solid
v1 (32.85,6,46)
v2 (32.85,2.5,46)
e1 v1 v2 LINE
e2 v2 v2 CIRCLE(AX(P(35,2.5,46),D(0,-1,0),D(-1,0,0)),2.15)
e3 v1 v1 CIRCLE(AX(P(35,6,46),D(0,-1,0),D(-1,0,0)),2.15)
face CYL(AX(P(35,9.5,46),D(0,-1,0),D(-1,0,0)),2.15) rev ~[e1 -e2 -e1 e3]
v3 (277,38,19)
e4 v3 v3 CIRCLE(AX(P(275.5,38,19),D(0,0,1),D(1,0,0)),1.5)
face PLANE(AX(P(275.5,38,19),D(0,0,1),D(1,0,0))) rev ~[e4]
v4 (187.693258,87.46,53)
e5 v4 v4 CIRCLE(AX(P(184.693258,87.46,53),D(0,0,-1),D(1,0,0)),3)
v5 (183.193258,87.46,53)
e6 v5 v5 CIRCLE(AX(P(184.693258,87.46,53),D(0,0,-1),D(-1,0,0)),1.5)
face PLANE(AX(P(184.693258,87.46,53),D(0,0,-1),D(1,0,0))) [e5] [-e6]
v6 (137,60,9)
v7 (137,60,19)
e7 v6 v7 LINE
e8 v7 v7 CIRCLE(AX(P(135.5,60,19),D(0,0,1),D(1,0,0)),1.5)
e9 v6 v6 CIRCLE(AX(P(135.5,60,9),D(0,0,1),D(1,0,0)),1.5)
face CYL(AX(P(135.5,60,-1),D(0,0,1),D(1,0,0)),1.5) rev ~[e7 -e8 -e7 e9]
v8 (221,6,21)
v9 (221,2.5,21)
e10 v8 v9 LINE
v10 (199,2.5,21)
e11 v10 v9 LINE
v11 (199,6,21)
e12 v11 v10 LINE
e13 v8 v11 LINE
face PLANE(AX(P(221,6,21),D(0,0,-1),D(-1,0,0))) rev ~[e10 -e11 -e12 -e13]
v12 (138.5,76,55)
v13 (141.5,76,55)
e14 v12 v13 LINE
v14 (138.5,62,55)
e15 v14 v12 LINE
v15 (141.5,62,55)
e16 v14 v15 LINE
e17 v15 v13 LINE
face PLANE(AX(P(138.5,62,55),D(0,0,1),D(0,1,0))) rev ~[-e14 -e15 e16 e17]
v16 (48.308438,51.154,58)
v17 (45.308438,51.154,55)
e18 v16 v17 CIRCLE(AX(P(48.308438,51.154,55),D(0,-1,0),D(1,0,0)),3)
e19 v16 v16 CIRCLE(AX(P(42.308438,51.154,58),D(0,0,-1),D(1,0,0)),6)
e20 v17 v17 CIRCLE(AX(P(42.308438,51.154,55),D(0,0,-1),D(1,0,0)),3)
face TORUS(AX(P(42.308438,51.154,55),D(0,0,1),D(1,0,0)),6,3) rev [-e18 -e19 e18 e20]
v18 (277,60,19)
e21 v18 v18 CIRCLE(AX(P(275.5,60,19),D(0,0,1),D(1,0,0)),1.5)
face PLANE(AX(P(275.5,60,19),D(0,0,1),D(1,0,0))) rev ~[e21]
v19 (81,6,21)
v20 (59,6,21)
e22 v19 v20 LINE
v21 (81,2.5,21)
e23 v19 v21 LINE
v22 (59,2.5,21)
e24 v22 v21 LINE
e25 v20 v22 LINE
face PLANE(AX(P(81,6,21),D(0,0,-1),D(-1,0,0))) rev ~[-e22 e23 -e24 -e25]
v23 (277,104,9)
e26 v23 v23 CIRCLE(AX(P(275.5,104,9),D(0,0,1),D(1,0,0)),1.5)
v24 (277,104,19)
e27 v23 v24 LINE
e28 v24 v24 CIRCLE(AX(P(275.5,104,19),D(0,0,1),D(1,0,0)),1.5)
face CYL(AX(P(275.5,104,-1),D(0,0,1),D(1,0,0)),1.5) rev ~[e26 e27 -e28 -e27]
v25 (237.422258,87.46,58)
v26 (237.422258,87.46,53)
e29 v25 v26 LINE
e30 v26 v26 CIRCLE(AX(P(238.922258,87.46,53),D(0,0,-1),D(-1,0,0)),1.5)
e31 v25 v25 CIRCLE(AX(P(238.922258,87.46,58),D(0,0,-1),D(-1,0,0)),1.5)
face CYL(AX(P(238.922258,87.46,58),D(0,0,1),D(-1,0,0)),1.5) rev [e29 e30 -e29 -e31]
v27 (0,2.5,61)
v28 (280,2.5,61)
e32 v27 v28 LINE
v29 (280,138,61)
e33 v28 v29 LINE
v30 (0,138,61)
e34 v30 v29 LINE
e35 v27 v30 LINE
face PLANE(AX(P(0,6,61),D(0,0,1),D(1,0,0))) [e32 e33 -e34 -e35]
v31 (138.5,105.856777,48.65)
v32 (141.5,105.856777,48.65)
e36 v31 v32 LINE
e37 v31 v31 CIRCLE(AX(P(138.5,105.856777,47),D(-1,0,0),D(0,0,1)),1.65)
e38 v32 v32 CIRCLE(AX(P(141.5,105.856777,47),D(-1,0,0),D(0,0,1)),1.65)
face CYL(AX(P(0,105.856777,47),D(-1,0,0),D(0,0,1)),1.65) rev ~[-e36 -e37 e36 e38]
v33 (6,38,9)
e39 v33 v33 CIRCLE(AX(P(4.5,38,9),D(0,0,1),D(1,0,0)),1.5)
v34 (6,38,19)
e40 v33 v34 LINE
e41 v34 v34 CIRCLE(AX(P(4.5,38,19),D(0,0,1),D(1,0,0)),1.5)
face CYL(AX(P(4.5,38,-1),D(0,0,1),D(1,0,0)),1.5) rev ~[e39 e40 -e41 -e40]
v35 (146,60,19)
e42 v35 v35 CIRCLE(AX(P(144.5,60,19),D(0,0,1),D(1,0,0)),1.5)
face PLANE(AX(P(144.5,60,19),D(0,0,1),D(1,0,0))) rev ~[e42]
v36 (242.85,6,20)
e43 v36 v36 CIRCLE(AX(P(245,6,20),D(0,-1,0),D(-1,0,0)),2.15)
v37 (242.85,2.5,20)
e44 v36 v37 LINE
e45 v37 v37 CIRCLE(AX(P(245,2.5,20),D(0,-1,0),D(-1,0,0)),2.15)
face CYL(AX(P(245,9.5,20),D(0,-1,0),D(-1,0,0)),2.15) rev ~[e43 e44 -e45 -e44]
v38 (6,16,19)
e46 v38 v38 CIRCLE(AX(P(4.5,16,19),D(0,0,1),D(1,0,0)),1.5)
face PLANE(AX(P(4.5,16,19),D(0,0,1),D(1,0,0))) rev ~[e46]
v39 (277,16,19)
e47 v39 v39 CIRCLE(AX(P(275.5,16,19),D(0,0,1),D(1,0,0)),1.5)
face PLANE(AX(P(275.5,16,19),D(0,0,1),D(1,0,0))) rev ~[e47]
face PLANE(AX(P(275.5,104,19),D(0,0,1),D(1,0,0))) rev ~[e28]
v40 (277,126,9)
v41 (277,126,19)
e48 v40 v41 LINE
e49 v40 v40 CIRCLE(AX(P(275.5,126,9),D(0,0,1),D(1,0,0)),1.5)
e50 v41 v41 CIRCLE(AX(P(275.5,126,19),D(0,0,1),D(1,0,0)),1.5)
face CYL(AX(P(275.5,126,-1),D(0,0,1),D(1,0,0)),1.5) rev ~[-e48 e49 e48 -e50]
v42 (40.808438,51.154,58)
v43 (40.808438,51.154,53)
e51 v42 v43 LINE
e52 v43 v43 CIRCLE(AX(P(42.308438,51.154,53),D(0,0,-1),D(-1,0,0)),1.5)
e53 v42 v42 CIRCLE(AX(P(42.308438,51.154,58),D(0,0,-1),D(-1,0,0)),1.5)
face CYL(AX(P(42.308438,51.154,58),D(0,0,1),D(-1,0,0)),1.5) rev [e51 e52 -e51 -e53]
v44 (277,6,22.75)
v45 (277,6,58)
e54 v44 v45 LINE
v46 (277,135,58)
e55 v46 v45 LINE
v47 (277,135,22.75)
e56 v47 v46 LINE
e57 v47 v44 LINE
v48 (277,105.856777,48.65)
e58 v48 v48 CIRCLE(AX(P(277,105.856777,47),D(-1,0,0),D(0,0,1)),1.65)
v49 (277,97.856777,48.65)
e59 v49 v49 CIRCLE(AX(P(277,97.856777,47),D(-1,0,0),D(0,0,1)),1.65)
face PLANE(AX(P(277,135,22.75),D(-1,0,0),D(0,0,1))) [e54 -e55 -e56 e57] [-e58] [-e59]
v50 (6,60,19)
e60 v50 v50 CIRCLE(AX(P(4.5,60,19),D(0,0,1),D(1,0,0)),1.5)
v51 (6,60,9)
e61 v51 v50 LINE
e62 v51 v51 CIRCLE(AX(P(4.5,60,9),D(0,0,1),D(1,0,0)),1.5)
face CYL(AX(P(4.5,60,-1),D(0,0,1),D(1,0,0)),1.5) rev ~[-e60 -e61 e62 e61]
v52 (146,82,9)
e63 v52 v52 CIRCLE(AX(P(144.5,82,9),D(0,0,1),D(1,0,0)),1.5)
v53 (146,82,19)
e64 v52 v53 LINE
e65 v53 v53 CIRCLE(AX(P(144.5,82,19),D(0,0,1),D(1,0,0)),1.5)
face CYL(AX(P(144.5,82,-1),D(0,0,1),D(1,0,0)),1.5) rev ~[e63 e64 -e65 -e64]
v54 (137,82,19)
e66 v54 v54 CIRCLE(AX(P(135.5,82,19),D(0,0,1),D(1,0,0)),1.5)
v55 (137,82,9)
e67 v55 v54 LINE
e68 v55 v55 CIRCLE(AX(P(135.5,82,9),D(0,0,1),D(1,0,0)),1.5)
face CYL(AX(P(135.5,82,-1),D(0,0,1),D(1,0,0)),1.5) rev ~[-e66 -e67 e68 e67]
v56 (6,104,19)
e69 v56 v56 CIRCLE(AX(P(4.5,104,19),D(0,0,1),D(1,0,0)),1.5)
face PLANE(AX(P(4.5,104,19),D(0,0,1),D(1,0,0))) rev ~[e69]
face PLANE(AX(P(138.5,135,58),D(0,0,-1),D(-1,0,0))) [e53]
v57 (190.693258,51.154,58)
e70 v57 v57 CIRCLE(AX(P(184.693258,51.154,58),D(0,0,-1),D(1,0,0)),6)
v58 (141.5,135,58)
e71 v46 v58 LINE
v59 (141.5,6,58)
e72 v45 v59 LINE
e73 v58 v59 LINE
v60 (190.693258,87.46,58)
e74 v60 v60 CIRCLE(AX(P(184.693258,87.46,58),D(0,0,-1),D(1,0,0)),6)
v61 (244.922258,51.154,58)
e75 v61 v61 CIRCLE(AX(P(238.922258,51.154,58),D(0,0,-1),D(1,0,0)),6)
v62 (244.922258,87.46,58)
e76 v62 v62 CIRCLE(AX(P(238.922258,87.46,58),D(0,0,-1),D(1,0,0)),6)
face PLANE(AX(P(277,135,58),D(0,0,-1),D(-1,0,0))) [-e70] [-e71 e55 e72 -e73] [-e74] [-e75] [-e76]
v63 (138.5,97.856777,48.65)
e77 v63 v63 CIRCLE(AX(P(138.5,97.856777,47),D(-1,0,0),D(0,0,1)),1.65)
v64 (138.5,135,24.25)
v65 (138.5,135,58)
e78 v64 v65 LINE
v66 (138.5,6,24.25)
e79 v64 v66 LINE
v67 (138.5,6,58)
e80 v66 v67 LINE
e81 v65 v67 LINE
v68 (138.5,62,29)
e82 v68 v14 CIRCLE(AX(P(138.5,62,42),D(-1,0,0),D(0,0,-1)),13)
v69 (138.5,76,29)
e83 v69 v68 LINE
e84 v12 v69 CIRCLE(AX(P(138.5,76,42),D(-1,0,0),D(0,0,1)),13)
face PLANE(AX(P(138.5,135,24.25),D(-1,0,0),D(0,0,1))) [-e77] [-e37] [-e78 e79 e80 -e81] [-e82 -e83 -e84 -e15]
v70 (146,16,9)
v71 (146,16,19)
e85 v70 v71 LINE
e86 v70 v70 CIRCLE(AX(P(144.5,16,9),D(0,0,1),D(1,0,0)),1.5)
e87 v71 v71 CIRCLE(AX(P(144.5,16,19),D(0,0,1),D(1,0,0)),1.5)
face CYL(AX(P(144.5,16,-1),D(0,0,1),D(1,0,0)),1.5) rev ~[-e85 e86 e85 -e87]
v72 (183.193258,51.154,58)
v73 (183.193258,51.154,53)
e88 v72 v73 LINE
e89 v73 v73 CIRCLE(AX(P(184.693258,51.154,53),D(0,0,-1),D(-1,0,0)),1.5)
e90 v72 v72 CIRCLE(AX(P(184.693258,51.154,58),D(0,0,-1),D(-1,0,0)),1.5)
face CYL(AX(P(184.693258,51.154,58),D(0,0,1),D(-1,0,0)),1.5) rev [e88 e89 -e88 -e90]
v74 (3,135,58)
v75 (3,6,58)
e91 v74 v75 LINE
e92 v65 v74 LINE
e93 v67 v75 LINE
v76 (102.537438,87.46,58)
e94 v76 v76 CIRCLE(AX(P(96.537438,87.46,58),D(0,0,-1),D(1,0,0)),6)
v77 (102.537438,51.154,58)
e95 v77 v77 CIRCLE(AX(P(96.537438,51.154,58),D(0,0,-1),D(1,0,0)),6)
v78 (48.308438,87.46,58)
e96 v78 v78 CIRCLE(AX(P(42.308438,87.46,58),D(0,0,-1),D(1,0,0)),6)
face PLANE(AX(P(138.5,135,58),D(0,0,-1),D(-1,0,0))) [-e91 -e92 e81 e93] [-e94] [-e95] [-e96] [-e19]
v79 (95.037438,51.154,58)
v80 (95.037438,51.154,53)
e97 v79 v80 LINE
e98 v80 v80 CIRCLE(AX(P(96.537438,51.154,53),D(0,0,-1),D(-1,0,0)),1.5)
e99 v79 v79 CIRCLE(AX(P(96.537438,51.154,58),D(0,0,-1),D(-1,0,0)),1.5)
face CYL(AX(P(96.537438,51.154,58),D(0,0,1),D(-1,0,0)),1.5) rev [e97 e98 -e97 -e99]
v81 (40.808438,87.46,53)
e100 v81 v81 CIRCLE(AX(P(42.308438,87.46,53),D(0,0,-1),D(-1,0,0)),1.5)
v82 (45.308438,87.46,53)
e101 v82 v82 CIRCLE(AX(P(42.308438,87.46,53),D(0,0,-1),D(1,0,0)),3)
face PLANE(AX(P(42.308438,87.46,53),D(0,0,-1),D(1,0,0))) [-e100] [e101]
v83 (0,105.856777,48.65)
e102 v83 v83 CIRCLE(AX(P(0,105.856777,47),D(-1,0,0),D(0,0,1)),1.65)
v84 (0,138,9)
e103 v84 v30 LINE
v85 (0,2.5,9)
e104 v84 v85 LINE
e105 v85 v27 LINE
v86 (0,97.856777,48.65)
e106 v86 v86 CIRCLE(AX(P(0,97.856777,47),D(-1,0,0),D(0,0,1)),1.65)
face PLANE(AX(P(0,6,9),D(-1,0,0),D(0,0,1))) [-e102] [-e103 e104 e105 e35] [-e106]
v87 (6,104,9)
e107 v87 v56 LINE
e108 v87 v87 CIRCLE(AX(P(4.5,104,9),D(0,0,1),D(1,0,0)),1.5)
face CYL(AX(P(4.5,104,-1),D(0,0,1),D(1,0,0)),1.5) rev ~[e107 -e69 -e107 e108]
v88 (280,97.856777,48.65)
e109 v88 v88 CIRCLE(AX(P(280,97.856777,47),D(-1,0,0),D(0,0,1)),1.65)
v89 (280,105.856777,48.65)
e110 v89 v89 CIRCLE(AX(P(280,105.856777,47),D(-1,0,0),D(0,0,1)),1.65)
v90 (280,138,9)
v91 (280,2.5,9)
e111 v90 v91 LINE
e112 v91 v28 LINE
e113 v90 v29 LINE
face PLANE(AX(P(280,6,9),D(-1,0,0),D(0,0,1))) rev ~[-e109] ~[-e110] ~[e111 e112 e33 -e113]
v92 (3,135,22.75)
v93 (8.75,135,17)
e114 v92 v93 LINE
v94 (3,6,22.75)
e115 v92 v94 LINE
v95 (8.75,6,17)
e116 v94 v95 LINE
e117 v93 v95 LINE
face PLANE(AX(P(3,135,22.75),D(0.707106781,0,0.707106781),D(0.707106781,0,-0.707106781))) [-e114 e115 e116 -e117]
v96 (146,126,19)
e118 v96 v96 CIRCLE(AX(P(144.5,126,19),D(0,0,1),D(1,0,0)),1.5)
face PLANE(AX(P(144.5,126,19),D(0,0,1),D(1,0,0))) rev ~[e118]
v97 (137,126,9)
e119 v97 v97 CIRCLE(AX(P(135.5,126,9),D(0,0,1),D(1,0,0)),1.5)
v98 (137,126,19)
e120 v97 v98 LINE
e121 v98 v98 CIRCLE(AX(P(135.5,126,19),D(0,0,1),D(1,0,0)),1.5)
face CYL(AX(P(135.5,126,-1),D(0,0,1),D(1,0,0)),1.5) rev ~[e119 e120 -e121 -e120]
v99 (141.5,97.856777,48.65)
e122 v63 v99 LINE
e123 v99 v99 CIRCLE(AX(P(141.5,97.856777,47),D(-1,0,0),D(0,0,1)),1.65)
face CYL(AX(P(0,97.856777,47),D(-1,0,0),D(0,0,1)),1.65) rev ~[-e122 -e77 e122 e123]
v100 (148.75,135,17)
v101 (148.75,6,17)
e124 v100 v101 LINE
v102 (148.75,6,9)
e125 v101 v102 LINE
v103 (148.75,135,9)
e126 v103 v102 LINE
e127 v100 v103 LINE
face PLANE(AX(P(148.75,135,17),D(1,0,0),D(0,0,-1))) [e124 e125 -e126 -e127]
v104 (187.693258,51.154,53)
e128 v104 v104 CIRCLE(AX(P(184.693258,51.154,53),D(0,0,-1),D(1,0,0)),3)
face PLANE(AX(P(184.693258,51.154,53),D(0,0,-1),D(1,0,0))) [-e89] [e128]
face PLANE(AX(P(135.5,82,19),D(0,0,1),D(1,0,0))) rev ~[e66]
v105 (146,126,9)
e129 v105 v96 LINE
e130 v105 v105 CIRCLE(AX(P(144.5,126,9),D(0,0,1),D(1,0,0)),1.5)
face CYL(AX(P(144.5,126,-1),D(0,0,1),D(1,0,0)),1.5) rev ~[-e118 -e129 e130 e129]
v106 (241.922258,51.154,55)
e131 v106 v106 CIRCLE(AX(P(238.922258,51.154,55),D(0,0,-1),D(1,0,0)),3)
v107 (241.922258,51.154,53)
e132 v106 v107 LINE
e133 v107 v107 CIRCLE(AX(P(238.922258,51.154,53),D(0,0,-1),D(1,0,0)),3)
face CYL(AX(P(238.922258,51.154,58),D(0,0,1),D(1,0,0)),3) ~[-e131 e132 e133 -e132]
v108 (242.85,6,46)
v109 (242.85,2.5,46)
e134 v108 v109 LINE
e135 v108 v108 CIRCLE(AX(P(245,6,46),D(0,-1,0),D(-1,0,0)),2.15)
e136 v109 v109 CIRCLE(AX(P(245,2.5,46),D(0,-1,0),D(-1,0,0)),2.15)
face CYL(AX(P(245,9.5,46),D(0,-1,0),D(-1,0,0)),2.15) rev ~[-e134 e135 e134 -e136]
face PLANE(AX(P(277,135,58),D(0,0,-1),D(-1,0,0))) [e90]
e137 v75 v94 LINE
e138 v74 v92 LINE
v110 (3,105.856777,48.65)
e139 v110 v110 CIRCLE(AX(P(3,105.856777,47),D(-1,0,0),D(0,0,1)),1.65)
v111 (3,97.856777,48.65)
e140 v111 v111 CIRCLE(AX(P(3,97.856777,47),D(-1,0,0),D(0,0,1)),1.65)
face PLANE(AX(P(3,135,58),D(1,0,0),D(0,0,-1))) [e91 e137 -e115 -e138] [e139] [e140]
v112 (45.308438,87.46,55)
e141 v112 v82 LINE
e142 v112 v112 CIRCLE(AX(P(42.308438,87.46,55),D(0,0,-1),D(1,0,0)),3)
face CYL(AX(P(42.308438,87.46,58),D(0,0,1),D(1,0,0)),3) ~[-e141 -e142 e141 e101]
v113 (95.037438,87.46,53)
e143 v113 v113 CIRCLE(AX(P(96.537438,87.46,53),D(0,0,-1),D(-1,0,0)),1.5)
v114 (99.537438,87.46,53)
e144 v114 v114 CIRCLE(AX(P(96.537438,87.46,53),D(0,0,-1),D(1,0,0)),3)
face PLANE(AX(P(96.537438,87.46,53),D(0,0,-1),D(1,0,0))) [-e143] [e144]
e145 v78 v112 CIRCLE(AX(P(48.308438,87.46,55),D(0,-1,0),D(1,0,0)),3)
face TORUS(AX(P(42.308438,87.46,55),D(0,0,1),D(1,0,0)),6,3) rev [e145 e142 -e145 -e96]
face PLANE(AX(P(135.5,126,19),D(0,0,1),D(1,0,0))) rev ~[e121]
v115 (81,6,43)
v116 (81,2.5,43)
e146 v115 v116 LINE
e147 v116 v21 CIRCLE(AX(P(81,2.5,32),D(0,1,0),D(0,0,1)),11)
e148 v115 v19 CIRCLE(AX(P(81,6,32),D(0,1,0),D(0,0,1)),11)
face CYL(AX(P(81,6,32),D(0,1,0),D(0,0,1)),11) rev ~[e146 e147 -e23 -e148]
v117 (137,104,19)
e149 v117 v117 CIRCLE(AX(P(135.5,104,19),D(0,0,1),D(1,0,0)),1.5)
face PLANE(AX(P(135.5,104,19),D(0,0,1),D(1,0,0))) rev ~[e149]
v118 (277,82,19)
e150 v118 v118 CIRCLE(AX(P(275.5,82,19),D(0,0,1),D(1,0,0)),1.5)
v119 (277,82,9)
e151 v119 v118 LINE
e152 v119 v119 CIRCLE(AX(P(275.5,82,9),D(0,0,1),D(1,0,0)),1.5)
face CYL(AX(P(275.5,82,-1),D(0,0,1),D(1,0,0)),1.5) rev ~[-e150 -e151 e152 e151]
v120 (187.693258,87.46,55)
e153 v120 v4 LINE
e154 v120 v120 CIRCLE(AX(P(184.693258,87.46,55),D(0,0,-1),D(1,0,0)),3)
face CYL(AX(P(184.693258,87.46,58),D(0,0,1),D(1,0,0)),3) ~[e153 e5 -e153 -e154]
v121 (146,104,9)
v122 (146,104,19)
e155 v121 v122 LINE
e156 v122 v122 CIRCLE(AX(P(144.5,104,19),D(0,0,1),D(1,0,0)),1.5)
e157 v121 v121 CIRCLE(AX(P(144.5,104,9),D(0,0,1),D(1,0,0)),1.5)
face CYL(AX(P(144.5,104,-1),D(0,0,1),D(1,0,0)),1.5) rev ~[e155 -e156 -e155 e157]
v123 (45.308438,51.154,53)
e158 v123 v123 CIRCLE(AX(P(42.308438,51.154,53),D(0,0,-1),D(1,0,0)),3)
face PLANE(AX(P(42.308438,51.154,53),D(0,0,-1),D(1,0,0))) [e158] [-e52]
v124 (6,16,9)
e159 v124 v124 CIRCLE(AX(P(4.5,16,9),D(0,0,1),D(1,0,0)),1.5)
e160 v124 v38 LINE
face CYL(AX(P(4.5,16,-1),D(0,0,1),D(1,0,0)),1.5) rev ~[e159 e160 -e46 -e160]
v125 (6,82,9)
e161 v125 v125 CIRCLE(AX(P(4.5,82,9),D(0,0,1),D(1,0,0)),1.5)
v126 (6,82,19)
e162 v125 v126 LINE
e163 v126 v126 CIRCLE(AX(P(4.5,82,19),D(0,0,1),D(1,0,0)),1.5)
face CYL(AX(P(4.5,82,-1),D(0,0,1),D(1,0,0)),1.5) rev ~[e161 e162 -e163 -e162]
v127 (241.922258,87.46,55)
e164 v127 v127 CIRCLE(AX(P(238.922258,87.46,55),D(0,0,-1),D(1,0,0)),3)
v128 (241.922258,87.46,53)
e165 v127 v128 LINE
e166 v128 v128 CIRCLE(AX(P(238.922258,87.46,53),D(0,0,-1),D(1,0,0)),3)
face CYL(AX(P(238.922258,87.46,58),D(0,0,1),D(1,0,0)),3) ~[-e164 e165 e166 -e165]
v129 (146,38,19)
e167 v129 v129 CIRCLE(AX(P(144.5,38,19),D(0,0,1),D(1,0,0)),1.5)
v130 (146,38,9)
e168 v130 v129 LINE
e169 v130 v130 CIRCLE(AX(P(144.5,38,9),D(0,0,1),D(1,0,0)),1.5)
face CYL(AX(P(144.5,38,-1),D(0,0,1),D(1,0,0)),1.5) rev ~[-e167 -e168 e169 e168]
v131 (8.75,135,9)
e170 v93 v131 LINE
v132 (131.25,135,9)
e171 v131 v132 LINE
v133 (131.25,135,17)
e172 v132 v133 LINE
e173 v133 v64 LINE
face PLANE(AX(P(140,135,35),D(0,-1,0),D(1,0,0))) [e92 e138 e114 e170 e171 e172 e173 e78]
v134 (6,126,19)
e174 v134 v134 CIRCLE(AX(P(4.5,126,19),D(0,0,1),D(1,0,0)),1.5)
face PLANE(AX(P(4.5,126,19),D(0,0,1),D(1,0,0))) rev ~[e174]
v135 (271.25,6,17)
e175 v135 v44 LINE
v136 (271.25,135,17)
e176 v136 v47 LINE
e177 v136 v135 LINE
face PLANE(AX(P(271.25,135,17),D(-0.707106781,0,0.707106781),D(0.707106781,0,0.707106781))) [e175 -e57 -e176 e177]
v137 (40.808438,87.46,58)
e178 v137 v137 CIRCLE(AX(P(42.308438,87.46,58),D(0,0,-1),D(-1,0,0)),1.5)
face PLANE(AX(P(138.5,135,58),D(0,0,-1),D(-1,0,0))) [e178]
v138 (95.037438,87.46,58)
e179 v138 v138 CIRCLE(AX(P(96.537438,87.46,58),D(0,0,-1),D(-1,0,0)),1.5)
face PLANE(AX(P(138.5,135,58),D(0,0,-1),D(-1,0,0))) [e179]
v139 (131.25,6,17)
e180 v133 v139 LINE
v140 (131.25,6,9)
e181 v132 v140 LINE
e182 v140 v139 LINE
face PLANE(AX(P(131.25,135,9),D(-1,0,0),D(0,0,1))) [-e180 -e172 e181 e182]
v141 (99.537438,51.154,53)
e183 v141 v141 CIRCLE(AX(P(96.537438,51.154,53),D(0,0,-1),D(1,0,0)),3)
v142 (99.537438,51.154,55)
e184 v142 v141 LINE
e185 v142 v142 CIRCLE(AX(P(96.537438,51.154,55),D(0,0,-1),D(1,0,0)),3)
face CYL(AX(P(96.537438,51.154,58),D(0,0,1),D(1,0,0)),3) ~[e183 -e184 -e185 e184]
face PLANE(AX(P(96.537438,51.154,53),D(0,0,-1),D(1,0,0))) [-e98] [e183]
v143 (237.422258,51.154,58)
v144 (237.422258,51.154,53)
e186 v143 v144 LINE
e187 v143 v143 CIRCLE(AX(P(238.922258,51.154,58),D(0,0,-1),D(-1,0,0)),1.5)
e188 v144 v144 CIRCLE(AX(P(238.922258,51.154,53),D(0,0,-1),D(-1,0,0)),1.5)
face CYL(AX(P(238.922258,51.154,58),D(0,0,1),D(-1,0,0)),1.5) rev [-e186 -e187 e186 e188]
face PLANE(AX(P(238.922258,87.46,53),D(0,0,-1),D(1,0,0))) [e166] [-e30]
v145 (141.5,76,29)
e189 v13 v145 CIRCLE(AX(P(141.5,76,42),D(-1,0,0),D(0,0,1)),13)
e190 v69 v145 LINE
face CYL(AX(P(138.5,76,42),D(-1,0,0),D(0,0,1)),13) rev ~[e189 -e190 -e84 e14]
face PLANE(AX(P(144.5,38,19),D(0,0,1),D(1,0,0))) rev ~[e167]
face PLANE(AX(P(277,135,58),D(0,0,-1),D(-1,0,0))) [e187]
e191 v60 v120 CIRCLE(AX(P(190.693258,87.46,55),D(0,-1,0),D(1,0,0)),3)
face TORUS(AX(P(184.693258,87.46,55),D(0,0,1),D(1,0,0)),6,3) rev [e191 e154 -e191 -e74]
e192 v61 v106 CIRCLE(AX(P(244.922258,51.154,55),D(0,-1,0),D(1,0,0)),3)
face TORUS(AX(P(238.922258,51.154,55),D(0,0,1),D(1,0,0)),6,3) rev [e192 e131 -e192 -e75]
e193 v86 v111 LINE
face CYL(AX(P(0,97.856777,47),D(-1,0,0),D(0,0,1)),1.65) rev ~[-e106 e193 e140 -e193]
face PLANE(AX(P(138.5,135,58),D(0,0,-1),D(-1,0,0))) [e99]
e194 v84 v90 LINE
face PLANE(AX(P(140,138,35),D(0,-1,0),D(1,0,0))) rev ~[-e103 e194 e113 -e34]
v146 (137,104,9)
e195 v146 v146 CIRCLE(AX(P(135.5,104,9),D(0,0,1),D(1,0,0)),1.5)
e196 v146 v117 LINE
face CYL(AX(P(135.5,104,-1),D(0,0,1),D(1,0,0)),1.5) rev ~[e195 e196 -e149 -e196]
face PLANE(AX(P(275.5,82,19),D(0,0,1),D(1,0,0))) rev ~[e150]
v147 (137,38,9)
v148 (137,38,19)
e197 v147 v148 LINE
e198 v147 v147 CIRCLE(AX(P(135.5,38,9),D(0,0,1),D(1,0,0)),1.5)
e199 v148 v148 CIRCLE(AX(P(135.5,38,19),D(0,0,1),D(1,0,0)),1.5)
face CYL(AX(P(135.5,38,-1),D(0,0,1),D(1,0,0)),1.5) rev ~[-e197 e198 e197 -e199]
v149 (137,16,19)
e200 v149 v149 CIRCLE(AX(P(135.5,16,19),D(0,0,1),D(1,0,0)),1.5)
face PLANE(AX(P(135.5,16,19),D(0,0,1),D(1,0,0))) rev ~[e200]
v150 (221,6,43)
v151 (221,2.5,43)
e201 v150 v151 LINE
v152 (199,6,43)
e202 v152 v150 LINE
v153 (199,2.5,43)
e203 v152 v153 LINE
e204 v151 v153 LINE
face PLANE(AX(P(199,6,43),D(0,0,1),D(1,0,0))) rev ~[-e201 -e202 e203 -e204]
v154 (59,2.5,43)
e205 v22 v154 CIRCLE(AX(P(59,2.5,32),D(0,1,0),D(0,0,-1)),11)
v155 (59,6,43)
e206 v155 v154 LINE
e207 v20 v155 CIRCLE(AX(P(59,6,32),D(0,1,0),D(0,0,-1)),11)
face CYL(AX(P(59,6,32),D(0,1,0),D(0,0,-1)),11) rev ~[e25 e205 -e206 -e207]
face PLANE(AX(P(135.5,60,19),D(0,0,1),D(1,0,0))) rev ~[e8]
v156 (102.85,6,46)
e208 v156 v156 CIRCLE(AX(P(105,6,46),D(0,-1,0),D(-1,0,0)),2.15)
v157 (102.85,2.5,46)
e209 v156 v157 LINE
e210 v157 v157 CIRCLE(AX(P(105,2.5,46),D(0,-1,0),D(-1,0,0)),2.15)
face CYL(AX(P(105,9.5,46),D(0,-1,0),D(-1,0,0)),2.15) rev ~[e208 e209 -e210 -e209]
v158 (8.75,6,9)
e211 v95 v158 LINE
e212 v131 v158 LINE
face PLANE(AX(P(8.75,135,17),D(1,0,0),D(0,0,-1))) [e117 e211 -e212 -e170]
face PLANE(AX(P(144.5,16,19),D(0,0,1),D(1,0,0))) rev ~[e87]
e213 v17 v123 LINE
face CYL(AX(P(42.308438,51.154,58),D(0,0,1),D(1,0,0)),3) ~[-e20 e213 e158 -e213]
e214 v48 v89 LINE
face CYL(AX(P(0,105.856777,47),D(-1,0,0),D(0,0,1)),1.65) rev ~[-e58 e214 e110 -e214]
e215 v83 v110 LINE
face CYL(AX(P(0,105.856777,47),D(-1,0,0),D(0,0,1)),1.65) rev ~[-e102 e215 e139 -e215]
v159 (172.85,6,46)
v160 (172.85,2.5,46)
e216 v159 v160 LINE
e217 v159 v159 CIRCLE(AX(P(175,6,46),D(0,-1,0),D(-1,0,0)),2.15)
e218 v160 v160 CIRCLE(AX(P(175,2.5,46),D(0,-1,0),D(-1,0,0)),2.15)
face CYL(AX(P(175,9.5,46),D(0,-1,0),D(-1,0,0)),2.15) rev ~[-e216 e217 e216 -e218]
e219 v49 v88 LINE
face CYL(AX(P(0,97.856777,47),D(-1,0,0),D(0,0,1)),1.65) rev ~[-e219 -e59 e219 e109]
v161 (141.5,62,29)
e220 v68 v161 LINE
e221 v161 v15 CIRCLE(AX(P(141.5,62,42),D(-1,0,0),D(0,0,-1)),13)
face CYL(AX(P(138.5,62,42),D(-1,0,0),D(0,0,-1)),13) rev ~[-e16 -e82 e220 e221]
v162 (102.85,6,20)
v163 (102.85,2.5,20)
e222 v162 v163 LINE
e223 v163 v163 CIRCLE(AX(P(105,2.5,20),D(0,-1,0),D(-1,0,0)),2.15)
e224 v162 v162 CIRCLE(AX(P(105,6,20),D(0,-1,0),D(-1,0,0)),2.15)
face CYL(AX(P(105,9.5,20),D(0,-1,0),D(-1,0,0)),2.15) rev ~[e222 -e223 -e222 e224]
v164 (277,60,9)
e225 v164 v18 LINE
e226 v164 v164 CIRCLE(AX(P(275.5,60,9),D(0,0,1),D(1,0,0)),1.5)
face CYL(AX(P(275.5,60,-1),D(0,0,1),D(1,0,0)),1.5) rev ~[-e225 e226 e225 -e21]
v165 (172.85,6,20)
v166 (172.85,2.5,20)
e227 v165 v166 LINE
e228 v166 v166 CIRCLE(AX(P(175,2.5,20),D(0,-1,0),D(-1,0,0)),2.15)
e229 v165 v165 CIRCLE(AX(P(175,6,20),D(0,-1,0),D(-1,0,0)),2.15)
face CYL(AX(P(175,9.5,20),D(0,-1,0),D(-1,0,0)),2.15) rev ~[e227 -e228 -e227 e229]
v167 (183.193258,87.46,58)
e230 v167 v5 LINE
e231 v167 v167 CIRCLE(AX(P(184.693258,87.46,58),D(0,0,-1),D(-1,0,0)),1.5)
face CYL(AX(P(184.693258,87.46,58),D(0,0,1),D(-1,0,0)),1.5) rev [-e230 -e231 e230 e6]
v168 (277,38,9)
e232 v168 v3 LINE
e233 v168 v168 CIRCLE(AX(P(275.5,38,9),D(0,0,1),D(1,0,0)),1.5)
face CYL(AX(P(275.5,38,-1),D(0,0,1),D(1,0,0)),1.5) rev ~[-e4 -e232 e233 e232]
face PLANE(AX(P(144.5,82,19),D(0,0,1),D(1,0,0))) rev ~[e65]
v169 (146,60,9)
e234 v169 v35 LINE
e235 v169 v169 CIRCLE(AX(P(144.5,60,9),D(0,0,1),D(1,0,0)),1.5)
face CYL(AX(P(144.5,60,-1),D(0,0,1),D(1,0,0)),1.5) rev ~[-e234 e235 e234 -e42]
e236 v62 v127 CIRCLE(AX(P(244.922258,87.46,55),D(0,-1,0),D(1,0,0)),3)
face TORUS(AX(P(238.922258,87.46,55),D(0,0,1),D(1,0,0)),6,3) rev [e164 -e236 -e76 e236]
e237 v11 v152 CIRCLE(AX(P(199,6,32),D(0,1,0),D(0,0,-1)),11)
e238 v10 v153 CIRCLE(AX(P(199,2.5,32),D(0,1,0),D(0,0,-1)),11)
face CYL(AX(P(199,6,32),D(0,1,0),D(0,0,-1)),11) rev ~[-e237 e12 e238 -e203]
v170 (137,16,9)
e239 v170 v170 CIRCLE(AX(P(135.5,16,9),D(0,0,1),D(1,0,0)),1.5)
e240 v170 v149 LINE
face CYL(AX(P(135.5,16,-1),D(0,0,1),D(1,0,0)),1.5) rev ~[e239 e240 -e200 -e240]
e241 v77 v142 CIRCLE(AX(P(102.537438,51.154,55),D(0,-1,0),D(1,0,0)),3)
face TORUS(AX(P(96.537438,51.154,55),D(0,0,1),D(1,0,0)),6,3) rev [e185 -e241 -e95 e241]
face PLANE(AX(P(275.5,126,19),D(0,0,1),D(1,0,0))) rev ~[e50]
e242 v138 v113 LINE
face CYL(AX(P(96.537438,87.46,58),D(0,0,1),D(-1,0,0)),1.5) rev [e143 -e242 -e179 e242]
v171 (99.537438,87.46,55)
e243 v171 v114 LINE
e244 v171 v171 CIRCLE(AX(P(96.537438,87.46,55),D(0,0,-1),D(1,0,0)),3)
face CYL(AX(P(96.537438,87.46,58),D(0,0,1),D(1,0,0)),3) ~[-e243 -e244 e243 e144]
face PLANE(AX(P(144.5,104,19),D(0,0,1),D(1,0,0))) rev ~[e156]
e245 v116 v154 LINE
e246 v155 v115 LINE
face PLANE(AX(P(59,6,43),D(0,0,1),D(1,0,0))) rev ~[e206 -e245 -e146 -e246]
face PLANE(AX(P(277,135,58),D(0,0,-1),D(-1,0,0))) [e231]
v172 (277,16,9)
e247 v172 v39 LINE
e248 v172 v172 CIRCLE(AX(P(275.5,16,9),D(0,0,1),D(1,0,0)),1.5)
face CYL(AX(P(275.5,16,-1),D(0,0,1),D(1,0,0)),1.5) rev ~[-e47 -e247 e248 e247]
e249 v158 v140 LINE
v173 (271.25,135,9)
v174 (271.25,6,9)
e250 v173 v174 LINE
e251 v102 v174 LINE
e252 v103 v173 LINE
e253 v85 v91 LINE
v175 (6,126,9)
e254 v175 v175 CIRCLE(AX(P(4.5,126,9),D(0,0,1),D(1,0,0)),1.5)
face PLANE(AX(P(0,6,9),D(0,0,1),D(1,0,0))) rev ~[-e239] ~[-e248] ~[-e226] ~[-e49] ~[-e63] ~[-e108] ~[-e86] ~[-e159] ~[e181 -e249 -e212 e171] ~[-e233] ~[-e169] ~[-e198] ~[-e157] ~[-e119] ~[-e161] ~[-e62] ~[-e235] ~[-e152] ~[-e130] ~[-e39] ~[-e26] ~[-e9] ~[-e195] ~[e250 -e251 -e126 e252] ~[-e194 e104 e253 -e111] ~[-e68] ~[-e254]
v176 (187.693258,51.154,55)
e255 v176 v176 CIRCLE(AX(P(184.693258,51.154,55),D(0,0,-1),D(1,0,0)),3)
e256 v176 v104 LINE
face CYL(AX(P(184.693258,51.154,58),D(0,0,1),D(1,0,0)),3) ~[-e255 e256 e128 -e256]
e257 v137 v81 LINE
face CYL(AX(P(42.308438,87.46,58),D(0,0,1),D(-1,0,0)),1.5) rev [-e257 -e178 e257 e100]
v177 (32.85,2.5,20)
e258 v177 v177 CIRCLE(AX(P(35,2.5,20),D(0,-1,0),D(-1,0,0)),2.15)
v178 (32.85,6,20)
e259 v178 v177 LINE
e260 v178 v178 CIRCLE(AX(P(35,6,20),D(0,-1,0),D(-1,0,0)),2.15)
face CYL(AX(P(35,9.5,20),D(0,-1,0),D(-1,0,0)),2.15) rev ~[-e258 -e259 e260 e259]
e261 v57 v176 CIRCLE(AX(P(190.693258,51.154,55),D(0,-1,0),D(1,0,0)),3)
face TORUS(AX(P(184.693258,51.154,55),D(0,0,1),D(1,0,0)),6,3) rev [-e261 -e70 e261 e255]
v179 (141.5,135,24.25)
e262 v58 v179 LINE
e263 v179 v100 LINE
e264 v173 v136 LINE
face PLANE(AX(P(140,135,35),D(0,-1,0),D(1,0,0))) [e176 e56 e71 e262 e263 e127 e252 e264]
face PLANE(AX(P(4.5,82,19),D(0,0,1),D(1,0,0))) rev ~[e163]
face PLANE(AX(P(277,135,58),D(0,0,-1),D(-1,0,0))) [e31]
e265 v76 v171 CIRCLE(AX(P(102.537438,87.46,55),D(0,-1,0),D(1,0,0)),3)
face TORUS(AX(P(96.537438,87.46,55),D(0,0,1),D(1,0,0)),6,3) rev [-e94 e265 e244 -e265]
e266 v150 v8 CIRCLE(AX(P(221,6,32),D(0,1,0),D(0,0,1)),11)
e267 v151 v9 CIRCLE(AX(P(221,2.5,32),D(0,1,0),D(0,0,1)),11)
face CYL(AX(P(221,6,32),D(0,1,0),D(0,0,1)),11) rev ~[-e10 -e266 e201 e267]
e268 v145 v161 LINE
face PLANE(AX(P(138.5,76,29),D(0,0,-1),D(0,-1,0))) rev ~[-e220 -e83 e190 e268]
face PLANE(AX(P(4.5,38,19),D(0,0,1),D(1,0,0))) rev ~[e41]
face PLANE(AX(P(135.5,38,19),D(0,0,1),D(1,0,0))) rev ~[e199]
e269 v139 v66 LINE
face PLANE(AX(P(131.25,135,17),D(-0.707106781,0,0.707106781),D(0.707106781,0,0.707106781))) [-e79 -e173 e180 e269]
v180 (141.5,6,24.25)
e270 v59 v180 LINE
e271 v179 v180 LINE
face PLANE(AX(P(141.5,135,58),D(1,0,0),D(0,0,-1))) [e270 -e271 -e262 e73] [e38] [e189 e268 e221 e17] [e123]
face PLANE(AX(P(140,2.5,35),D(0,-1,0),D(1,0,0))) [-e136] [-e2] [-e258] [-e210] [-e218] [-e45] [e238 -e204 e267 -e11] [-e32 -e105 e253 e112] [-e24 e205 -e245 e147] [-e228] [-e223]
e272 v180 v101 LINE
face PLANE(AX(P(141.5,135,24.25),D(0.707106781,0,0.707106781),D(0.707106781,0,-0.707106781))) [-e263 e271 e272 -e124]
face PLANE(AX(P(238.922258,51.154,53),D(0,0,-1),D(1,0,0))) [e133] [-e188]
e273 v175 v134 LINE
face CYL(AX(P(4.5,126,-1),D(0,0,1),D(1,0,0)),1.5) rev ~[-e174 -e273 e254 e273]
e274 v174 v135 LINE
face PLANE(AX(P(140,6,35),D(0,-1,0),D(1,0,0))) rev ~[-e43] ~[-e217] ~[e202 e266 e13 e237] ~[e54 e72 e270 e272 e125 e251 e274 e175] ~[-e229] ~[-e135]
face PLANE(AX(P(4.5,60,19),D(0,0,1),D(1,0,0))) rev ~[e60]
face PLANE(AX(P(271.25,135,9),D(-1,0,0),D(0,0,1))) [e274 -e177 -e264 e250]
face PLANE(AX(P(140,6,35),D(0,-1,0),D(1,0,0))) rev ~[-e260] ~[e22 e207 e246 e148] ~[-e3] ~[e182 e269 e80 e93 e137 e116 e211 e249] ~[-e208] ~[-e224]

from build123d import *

# Parameters (mm, degrees)
SKETCH1_W                      = 280
SKETCH1_H                      = 52
TAPA_FRONTAL_DEPTH             = 3
VENAS_APOYO_DEPTH              = 129
SKETCH3_W                      = 280
SKETCH3_H                      = 52
PLACA_UNI_N_DEPTH              = 3.5
CUT_EXTRUDE4_REACH             = 208.851
CUT_EXTRUDE5_DEPTH             = 316.507527644
F_4_3_4_3_DIAMETER_HOLE1_D     = 4.3
F_4_3_4_3_DIAMETER_HOLE1_DEPTH = 3.5
F_2_5_3_DIAMETER_HOLE1_D       = 3
F_2_5_3_DIAMETER_HOLE1_DEPTH   = 10
SKETCH17_R                     = 3
SKETCH17_R_2                   = 1.5
BOSS_EXTRUDE1_DEPTH            = 5
FILLET1_R                      = 3
SKETCH18_R                     = 1.65
CUT_EXTRUDE6_DEPTH             = 319.064458876


with BuildPart() as part:
    # Sketch1 → Tapa frontal (new body)
    with BuildSketch(Plane.XZ.offset(-135)):
        with Locations((140, 35)):
            Rectangle(SKETCH1_W, SKETCH1_H)
    extrude(amount=-TAPA_FRONTAL_DEPTH)

    # Sketch2 → Venas apoyo (add)
    with BuildSketch(Plane.XZ.offset(-135)):
        Polygon((271.25, 9), (271.25, 17), (277, 22.75), (277, 58), (141.5, 58), (141.5, 24.25), (148.75, 17), (148.75, 9), (131.25, 9), (131.25, 17), (138.5, 24.25), (138.5, 58), (3, 58), (3, 22.75), (8.75, 17), (8.75, 9), (0, 9), (0, 61), (280, 61), (280, 9), align=None)
    extrude(amount=VENAS_APOYO_DEPTH)

    # Sketch3 → Placa unión (add)
    with BuildSketch(Plane.XZ.offset(-6)):
        with Locations((140, 35)):
            Rectangle(SKETCH3_W, SKETCH3_H)
    extrude(amount=PLACA_UNI_N_DEPTH)

    # Sketch9 → Cut-Extrude4 (cut, up to next)
    with BuildSketch(Plane.ZY.offset(-138.5), mode=Mode.PRIVATE) as cut_extrude4_sk1:
        with BuildLine():
            Line((55, 62), (55, 76))
            ThreePointArc((55, 76), (42, 89), (29, 76))
            Line((29, 76), (29, 62))
            ThreePointArc((29, 62), (42, 49), (55, 62))
        make_face()
    cut_extrude4_tool1 = extrude(cut_extrude4_sk1.sketch, amount=-CUT_EXTRUDE4_REACH, mode=Mode.PRIVATE) & part.part
    add(cut_extrude4_tool1.solids().sort_by_distance((138.5, 69, 42))[0], mode=Mode.SUBTRACT)

    # Sketch10 → Cut-Extrude5 (cut, through all)
    with BuildSketch(Plane(origin=(0, 6, 0), x_dir=(-1, 0, 0), z_dir=(0, 1, 0))):
        with BuildLine():
            Line((-81, 21), (-59, 21))
            ThreePointArc((-59, 21), (-48, 32), (-59, 43))
            Line((-59, 43), (-81, 43))
            ThreePointArc((-81, 43), (-92, 32), (-81, 21))
        make_face()
        with BuildLine():
            Line((-199, 43), (-221, 43))
            ThreePointArc((-221, 43), (-232, 32), (-221, 21))
            Line((-221, 21), (-199, 21))
            ThreePointArc((-199, 21), (-188, 32), (-199, 43))
        make_face()
    extrude(amount=-CUT_EXTRUDE5_DEPTH, mode=Mode.SUBTRACT)

    # Ø4.3 (4.3) Diameter Hole1
    with Locations(Plane(origin=(0, 6, 0), x_dir=(1, 0, 0), z_dir=(0, 1, 0))):
        with Locations((245, -46), (175, -46), (245, -20), (175, -20), (105, -46), (35, -46), (105, -20), (35, -20)):
            Hole(F_4_3_4_3_DIAMETER_HOLE1_D / 2, depth=F_4_3_4_3_DIAMETER_HOLE1_DEPTH)

    # Ø2.5 (3) Diameter Hole1
    with Locations(Plane(origin=(0, 0, 9), x_dir=(-1, 0, 0), z_dir=(0, 0, -1))):
        with Locations((-275.5, 126), (-144.5, 126), (-275.5, 104), (-275.5, 82), (-144.5, 104), (-144.5, 82), (-135.5, 126), (-4.5, 126), (-135.5, 104), (-135.5, 82), (-4.5, 104), (-4.5, 82), (-275.5, 60), (-144.5, 60), (-275.5, 38), (-275.5, 16), (-144.5, 38), (-144.5, 16), (-135.5, 60), (-4.5, 60), (-135.5, 38), (-135.5, 16), (-4.5, 38), (-4.5, 16)):
            Hole(F_2_5_3_DIAMETER_HOLE1_D / 2, depth=F_2_5_3_DIAMETER_HOLE1_DEPTH)

    # Sketch17 → Boss-Extrude1 (add)
    # profile 1 of 8: a face of its own
    with BuildSketch(Plane(origin=(0, 0, 58), x_dir=(-1, 0, 0), z_dir=(0, 0, -1))):
        with Locations(Location((-238.922258381, 87.46, 0), (0, 0, 180))):
            Circle(SKETCH17_R)
        with Locations((-238.922258381, 87.46)):
            Circle(SKETCH17_R_2, mode=Mode.SUBTRACT)
    # profile 2 of 8: a face of its own
    with BuildSketch(Plane(origin=(0, 0, 58), x_dir=(-1, 0, 0), z_dir=(0, 0, -1))):
        with Locations(Location((-238.922258381, 51.154, 0), (0, 0, 180))):
            Circle(SKETCH17_R)
        with Locations((-238.922258381, 51.154)):
            Circle(SKETCH17_R_2, mode=Mode.SUBTRACT)
    # profile 3 of 8: a face of its own
    with BuildSketch(Plane(origin=(0, 0, 58), x_dir=(-1, 0, 0), z_dir=(0, 0, -1))):
        with Locations(Location((-184.693258381, 51.154, 0), (0, 0, 180))):
            Circle(SKETCH17_R)
        with Locations((-184.693258381, 51.154)):
            Circle(SKETCH17_R_2, mode=Mode.SUBTRACT)
    # profile 4 of 8: a face of its own
    with BuildSketch(Plane(origin=(0, 0, 58), x_dir=(-1, 0, 0), z_dir=(0, 0, -1))):
        with Locations(Location((-184.693258381, 87.46, 0), (0, 0, 180))):
            Circle(SKETCH17_R)
        with Locations((-184.693258381, 87.46)):
            Circle(SKETCH17_R_2, mode=Mode.SUBTRACT)
    # profile 5 of 8: a face of its own
    with BuildSketch(Plane(origin=(0, 0, 58), x_dir=(-1, 0, 0), z_dir=(0, 0, -1))):
        with Locations(Location((-96.537437962, 87.46, 0), (0, 0, 180))):
            Circle(SKETCH17_R)
        with Locations((-96.537437962, 87.46)):
            Circle(SKETCH17_R_2, mode=Mode.SUBTRACT)
    # profile 6 of 8: a face of its own
    with BuildSketch(Plane(origin=(0, 0, 58), x_dir=(-1, 0, 0), z_dir=(0, 0, -1))):
        with Locations(Location((-42.308437962, 87.46, 0), (0, 0, 180))):
            Circle(SKETCH17_R)
        with Locations((-42.308437962, 87.46)):
            Circle(SKETCH17_R_2, mode=Mode.SUBTRACT)
    # profile 7 of 8: a face of its own
    with BuildSketch(Plane(origin=(0, 0, 58), x_dir=(-1, 0, 0), z_dir=(0, 0, -1))):
        with Locations(Location((-42.308437962, 51.154, 0), (0, 0, 180))):
            Circle(SKETCH17_R)
        with Locations((-42.308437962, 51.154)):
            Circle(SKETCH17_R_2, mode=Mode.SUBTRACT)
    # profile 8 of 8: a face of its own
    with BuildSketch(Plane(origin=(0, 0, 58), x_dir=(-1, 0, 0), z_dir=(0, 0, -1))):
        with Locations(Location((-96.537437962, 51.154, 0), (0, 0, 180))):
            Circle(SKETCH17_R)
        with Locations((-96.537437962, 51.154)):
            Circle(SKETCH17_R_2, mode=Mode.SUBTRACT)
    extrude(amount=BOSS_EXTRUDE1_DEPTH)

    # Fillet1
    fillet1_edges = [part.edges().sort_by_distance(p)[0] for p in [
        (235.922258381, 87.46, 58),
        (181.693258381, 87.46, 58),
        (181.693258381, 51.154, 58),
        (235.922258381, 51.154, 58),
        (93.537437962, 51.154, 58),
        (39.308437962, 51.154, 58),
        (39.308437962, 87.46, 58),
        (93.537437962, 87.46, 58),
    ]]
    fillet(fillet1_edges, radius=FILLET1_R)

    # Sketch18 → Cut-Extrude6 (cut, through all)
    with BuildSketch(Plane.ZY):
        with Locations((47, 105.856776801)):
            Circle(SKETCH18_R)
        with Locations((47, 97.856776801)):
            Circle(SKETCH18_R)
    extrude(amount=-CUT_EXTRUDE6_DEPTH, mode=Mode.SUBTRACT)


solid = part.part
